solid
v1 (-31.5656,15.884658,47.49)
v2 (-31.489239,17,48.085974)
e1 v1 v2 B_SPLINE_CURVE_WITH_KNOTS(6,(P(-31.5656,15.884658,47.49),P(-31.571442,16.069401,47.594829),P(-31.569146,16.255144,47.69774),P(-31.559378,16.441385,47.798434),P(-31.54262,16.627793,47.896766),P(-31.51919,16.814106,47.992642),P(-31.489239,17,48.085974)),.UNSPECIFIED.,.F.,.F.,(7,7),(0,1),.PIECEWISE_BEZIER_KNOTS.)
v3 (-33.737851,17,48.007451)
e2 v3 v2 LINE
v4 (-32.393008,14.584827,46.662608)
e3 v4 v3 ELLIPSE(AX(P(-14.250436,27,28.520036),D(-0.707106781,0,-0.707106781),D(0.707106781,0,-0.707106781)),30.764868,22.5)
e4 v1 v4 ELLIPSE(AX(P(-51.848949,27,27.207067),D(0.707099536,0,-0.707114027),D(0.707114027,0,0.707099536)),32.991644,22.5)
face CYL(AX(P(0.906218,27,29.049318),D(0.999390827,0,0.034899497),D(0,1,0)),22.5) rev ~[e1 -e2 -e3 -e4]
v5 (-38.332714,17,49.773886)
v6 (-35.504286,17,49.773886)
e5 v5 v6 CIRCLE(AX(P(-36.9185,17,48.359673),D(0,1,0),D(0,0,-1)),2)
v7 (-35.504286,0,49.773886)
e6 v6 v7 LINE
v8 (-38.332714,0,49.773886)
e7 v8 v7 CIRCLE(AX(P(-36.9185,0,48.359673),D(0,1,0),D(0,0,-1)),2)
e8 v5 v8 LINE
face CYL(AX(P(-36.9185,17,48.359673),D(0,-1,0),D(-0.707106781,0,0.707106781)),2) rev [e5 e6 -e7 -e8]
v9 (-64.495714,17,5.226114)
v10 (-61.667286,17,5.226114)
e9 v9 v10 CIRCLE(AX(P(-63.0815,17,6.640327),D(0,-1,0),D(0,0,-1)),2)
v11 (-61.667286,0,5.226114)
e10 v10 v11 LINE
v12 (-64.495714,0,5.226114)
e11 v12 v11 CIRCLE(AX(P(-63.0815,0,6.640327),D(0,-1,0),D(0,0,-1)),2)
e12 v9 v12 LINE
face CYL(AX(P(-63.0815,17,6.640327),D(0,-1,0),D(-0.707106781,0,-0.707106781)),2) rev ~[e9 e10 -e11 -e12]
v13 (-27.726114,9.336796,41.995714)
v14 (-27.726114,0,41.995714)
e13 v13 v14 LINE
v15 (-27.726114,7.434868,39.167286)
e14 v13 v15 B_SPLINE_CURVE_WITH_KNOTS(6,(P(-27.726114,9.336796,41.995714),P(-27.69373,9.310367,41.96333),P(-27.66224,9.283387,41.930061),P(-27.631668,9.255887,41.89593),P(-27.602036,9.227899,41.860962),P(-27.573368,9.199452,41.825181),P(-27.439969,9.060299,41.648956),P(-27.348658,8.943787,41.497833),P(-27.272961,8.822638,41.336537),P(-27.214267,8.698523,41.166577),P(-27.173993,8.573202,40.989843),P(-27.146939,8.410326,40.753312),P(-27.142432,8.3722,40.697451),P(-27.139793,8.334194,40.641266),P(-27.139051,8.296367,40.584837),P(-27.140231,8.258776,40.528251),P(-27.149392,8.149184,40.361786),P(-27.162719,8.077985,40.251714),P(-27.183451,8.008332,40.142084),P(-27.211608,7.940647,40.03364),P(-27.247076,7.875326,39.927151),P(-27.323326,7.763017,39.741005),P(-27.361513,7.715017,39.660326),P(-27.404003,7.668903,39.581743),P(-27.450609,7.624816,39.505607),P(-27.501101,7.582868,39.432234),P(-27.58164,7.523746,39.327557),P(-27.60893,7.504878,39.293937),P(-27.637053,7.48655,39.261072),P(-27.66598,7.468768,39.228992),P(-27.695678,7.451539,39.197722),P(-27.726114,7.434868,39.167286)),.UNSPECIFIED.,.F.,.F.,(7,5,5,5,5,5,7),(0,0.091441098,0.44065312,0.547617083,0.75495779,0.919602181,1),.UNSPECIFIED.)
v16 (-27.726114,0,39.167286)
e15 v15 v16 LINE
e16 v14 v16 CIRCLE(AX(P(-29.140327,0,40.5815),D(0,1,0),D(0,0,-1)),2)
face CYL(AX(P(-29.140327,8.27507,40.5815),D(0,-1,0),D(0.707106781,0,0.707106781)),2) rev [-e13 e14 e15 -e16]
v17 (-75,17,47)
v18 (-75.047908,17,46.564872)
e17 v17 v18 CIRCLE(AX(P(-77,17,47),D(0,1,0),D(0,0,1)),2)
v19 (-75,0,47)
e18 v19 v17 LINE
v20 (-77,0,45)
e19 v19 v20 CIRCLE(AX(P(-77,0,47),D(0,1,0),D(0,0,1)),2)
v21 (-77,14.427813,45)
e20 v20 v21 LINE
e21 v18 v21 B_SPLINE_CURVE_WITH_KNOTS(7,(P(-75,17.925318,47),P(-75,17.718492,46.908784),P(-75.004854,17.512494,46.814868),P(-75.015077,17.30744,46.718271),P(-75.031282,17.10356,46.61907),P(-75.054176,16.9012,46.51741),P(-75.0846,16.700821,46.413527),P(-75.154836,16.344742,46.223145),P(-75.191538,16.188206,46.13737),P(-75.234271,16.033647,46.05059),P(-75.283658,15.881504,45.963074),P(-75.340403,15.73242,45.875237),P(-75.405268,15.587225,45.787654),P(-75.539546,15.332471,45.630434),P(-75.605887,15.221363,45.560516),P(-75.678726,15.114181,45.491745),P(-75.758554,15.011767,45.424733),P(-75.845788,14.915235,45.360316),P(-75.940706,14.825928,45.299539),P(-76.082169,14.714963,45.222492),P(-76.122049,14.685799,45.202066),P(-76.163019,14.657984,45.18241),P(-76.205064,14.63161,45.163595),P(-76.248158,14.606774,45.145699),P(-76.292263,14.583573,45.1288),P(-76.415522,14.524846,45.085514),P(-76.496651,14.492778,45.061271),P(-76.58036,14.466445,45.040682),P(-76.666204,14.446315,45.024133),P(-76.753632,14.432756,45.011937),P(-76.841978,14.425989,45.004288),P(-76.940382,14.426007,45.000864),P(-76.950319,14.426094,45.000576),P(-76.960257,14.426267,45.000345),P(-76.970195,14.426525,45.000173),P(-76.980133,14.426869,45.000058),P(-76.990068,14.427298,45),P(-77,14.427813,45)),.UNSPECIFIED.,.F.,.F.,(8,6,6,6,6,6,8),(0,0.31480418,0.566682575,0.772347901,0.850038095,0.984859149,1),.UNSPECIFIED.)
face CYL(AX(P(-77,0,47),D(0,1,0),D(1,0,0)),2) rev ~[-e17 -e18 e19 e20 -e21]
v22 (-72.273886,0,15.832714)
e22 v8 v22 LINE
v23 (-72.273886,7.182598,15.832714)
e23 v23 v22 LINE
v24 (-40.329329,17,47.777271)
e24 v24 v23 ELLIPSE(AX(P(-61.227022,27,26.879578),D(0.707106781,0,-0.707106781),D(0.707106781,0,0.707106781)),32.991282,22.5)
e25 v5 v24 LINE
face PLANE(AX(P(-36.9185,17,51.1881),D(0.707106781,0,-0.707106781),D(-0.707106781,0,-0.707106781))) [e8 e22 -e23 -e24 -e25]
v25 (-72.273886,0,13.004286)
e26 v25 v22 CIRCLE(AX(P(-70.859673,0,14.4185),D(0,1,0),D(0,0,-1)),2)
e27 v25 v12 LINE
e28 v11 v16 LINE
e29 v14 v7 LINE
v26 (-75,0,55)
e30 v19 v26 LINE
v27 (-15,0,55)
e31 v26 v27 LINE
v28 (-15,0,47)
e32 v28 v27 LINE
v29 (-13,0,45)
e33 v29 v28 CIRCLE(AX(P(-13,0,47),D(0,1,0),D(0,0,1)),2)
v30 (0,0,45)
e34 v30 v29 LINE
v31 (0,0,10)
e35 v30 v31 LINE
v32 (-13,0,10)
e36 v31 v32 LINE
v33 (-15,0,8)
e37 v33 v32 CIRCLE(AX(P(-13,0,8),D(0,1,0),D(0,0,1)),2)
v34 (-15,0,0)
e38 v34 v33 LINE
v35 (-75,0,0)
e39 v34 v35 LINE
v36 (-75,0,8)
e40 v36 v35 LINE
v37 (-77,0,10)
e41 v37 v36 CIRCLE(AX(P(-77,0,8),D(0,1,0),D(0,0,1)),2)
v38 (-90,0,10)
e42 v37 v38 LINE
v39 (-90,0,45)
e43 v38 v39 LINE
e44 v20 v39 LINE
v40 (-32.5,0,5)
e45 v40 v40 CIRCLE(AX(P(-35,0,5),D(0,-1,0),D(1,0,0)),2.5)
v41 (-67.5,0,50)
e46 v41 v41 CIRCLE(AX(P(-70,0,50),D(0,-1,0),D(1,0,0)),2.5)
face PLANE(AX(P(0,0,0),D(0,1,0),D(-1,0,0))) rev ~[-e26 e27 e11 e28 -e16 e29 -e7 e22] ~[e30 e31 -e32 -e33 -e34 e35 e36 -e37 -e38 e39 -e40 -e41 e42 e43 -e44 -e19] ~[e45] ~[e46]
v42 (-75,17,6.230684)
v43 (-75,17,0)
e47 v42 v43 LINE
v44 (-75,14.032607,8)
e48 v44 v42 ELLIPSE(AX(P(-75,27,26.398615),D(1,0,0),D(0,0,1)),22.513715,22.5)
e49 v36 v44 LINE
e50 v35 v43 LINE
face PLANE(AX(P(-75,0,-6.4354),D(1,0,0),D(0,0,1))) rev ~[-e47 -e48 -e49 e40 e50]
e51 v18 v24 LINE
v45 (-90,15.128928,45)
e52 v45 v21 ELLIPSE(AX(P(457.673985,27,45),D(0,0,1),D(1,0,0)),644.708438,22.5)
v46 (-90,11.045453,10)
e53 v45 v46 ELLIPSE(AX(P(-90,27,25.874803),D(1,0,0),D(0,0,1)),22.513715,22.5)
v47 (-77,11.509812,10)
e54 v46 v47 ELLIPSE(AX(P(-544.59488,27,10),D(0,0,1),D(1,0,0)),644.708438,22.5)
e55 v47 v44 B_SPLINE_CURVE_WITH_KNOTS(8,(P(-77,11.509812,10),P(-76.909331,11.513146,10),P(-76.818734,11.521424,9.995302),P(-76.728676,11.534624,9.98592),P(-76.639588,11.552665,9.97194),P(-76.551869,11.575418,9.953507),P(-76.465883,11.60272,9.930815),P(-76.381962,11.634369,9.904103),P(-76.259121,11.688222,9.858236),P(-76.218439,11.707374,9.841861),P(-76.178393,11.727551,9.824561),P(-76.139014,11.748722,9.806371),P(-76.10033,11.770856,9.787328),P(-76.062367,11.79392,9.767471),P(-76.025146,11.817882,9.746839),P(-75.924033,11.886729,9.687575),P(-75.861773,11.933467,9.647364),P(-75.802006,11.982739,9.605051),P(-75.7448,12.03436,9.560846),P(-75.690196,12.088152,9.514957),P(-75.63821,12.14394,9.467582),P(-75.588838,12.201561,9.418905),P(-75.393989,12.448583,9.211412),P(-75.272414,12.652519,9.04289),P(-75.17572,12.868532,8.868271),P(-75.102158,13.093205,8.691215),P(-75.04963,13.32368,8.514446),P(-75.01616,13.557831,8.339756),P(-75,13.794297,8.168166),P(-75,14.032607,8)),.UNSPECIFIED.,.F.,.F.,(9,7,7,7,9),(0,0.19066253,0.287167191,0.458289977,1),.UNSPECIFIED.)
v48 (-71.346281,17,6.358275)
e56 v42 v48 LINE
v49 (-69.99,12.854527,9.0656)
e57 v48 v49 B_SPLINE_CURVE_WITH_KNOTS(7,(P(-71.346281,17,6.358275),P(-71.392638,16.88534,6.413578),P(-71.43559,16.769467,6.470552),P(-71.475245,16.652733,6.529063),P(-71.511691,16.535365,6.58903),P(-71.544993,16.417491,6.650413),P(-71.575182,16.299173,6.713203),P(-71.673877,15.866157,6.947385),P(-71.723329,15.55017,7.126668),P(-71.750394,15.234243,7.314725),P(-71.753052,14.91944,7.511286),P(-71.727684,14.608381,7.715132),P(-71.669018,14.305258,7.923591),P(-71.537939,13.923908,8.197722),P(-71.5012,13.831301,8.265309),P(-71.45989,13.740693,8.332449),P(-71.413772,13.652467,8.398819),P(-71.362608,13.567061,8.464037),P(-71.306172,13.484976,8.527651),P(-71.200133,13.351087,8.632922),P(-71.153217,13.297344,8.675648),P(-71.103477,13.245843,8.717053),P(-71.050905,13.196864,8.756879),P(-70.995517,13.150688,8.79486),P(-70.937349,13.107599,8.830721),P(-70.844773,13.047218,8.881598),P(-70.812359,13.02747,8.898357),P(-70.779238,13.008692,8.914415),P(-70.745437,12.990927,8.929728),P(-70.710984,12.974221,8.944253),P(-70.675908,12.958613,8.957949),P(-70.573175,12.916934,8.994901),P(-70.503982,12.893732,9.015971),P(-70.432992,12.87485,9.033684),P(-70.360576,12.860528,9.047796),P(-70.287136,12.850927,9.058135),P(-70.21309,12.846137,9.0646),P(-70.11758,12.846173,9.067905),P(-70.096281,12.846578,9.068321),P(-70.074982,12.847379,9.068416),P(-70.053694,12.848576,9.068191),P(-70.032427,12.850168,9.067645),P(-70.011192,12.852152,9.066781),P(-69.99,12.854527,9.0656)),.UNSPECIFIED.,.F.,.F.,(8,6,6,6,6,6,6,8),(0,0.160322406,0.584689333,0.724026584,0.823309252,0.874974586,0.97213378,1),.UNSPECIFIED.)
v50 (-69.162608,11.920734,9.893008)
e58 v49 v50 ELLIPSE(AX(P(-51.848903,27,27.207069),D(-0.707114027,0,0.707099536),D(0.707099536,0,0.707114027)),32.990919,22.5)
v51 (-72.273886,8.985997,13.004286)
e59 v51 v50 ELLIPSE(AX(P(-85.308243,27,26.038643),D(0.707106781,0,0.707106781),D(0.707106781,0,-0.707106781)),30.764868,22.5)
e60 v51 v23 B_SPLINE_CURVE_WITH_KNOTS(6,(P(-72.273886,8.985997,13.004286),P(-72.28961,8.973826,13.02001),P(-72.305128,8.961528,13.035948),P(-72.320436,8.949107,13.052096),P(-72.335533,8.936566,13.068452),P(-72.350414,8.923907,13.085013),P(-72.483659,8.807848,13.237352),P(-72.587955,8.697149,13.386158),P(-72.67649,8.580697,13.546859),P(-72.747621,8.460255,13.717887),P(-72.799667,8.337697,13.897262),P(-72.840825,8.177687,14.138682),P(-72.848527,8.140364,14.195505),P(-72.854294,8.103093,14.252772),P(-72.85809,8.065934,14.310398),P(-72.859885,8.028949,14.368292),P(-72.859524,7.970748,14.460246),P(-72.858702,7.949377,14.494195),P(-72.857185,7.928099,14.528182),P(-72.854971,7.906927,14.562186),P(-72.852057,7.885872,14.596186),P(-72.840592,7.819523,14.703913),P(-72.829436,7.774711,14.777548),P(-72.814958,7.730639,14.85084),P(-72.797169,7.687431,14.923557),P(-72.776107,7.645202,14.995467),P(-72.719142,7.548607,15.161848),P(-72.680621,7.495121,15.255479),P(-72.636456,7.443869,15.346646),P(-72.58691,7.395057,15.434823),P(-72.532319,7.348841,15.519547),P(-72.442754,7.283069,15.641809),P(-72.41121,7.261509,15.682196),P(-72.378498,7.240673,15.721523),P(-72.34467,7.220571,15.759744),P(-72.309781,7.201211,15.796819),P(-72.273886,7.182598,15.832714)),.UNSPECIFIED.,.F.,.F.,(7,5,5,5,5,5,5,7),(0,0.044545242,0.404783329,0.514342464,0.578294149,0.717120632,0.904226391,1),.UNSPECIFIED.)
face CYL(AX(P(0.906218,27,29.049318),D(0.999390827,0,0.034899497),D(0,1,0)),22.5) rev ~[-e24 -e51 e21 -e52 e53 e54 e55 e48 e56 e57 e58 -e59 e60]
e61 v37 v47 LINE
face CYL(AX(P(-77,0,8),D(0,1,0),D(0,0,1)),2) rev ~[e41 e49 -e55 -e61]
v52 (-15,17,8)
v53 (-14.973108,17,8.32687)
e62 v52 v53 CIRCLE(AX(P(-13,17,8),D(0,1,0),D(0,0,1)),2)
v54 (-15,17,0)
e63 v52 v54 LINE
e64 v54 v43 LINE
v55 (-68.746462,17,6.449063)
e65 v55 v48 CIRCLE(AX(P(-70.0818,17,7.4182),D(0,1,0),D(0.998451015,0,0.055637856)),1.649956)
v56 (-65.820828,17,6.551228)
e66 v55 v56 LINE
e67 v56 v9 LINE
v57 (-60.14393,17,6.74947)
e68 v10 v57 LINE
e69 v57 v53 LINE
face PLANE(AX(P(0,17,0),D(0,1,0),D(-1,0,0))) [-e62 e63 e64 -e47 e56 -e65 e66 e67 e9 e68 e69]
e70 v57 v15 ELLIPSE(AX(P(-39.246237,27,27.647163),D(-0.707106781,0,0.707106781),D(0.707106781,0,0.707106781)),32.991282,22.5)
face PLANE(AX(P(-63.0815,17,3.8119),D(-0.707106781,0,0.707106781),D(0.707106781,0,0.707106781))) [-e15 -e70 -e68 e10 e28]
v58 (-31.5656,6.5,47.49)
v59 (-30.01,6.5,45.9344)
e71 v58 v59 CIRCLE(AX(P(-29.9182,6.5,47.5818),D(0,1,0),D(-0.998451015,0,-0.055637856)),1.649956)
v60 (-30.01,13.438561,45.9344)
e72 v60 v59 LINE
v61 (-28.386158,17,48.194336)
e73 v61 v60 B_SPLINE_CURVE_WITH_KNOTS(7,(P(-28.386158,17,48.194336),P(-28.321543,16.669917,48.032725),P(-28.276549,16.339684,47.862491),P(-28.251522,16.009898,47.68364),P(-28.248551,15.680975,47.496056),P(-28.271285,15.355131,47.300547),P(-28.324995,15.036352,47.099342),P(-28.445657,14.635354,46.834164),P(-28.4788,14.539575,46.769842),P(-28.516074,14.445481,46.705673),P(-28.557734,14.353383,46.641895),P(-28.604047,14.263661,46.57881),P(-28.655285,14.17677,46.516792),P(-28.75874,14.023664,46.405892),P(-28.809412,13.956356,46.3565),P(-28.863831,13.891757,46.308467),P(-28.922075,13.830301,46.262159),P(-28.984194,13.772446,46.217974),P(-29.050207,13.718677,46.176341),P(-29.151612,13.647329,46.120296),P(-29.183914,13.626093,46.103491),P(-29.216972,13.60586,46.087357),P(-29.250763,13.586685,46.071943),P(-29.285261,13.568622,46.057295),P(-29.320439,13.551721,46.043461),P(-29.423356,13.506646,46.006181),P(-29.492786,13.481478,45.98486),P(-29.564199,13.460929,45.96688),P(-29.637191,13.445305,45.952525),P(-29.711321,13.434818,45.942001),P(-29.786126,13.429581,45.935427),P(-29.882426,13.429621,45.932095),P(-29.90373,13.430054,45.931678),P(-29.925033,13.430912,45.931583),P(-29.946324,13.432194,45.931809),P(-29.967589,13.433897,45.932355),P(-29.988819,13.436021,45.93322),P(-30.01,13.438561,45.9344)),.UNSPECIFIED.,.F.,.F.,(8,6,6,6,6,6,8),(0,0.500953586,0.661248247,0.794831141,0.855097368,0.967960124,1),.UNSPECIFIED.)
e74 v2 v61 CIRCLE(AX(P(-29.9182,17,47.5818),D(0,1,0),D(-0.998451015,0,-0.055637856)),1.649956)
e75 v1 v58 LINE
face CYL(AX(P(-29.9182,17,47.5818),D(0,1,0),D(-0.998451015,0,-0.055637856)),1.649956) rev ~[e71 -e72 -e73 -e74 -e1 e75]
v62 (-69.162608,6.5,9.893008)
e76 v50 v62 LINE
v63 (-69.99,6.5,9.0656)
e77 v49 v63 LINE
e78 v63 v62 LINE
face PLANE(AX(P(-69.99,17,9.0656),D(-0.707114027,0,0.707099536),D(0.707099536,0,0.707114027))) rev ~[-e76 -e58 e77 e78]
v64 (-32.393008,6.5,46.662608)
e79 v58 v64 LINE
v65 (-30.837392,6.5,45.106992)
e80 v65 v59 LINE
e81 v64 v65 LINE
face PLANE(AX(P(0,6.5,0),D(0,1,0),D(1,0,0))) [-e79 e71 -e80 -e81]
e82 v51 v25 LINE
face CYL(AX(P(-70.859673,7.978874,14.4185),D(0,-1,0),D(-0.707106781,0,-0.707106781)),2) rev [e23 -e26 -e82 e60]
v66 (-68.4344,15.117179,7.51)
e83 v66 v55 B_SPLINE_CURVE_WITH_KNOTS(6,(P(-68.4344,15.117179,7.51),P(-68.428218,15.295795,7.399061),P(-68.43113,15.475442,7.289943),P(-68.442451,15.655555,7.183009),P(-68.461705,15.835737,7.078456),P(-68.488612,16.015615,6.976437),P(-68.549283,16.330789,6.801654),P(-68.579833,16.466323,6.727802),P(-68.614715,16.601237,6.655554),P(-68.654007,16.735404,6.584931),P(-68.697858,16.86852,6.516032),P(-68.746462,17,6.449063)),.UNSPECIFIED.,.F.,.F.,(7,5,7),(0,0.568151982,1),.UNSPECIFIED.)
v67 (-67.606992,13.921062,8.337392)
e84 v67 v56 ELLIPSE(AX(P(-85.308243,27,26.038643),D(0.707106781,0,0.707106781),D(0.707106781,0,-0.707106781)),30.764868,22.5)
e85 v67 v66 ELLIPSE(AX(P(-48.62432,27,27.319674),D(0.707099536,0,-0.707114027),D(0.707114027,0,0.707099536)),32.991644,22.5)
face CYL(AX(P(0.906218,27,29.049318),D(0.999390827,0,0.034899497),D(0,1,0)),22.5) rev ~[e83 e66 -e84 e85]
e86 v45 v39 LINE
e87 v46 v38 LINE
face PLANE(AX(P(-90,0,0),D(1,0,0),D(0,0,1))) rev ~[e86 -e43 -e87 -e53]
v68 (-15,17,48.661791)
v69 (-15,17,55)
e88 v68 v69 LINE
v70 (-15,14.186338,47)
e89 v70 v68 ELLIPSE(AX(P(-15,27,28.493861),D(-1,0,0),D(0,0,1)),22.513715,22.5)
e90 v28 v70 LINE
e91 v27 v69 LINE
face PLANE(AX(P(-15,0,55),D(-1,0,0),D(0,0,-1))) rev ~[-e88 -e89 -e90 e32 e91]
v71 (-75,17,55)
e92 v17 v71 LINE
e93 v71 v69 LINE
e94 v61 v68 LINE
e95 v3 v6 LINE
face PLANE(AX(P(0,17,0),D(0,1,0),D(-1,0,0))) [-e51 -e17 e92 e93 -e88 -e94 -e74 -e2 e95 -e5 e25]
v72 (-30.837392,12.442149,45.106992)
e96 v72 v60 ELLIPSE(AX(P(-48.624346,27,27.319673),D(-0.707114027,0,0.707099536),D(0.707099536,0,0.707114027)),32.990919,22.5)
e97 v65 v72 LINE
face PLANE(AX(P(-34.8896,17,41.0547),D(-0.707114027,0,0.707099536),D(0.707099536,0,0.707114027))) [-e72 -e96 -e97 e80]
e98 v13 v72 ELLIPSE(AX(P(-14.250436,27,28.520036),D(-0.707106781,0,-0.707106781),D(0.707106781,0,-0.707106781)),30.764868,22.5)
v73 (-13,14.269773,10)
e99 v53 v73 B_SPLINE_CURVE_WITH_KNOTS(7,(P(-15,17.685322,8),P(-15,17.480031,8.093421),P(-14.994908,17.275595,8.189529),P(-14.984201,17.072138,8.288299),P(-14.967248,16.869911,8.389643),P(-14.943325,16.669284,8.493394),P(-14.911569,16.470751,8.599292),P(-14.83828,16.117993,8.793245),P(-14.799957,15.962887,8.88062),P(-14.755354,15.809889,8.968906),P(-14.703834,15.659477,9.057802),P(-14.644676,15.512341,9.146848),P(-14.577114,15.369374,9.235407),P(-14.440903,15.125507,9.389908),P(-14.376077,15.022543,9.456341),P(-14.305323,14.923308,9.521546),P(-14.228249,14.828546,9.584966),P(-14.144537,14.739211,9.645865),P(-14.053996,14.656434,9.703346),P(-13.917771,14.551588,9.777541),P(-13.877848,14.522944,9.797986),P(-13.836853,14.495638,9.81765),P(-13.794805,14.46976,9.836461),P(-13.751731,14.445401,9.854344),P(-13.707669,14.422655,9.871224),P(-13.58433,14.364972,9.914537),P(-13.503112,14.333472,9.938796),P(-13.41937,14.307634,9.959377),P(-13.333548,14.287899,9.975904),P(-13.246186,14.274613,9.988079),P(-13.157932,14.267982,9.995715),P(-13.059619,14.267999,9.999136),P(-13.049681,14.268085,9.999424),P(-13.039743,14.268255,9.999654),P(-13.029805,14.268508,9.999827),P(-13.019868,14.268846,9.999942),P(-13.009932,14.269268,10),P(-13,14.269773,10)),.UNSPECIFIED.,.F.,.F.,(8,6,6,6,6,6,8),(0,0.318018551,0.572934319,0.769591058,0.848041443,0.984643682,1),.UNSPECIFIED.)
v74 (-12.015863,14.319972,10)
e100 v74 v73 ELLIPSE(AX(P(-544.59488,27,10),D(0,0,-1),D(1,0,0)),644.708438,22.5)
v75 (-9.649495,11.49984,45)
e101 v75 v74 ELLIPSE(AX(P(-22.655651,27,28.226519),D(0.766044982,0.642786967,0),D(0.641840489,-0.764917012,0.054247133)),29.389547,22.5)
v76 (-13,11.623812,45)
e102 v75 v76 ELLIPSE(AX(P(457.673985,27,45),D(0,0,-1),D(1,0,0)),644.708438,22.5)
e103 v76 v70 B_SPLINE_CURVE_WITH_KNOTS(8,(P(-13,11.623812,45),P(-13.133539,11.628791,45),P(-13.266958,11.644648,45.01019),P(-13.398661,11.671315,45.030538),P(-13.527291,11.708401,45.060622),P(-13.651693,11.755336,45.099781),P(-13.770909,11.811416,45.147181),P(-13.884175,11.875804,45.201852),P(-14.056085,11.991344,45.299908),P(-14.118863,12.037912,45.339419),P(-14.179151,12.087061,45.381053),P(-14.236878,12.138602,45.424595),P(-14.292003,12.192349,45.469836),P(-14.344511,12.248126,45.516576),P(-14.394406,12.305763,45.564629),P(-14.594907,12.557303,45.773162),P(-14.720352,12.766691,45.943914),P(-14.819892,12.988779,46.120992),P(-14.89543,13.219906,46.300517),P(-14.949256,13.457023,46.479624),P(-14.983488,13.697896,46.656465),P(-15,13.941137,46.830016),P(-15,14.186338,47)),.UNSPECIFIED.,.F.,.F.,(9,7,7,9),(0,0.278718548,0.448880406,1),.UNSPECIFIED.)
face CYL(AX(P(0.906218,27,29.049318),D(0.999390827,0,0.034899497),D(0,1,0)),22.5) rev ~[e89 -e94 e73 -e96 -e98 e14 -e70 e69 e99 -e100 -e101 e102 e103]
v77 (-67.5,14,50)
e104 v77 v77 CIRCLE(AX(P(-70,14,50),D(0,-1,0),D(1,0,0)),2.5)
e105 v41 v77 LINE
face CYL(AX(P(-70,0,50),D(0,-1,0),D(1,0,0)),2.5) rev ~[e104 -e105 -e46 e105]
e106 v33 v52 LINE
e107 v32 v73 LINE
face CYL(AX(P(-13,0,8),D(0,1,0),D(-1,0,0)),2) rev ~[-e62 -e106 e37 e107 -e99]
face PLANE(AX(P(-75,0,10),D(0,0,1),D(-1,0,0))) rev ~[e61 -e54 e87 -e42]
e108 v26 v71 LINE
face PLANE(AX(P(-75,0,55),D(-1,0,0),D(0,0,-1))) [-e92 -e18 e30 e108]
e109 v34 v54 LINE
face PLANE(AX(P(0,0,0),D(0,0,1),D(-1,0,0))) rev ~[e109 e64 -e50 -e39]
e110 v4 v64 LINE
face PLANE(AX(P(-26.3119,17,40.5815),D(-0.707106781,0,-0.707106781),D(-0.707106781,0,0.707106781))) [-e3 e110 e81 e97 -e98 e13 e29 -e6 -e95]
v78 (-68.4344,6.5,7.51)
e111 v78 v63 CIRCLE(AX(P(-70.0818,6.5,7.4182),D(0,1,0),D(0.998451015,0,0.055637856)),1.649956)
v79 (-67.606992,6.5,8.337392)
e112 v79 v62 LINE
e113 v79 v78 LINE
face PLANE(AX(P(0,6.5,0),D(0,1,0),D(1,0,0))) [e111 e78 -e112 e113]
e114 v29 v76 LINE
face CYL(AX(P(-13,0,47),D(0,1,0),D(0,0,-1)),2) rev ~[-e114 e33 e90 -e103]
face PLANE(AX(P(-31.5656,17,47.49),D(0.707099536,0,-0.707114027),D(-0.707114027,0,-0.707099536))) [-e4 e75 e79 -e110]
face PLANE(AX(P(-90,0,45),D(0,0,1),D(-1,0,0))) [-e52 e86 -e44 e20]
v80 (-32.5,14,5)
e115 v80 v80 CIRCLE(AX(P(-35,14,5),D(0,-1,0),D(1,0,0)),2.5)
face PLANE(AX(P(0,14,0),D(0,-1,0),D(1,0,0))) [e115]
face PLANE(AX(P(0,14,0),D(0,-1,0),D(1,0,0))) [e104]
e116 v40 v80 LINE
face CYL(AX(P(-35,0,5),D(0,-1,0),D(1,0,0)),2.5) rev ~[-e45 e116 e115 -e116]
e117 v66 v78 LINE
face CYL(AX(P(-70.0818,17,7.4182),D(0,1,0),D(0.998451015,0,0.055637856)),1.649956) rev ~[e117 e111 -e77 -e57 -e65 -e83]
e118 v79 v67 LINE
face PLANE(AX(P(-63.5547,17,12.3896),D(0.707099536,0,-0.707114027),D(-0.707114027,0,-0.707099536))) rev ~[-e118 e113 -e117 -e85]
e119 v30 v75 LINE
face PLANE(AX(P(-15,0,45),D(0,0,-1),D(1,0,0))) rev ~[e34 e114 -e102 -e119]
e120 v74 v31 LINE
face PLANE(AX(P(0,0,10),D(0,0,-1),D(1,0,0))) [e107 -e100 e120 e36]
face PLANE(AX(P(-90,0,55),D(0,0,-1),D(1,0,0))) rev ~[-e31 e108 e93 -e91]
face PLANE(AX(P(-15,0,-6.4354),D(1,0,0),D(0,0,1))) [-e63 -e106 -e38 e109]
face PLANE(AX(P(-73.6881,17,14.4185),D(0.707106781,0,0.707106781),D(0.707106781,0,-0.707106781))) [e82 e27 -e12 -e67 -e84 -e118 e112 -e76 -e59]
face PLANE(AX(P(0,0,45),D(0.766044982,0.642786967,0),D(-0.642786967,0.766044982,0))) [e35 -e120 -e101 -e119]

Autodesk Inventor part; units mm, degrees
ref_plane "YZ Plane" through (0, 0, 0) normal (1, 0, 0) x (0, 1, 0)
ref_plane "XZ Plane" through (0, 0, 0) normal (0, 1, 0) x (-1, 0, 0)
sketch "Sketch24" plane through (0, 0, 0) normal (0, 1, 0) x (-1, 0, 0)
  line L0 (0, 0) -> (90, 0)
  line L1 (90, 0) -> (90, 55)
  line L2 (90, 55) -> (0, 55)
  line L3 (0, 55) -> (0, 0)
  dimension "d160" = 55
  dimension "d161" = 90
extrude "Extrusion21" add sketch "Sketch24" along normal blind 17
sketch "Sketch25" plane through (0, 0, 0) normal (0, -1, 0) x (1, 0, 0)
  circle A0 centre (-70, 50) radius 2.5
  circle A1 centre (-35, 5) radius 2.5
  line L0 (0, 0) -> (-90, 0) projected
  line L1 (-90, 55) -> (0, 55) projected
  line L2 (-90, 0) -> (-90, 55) projected
  dimension "d164" = 5
  dimension "d165" = 5
  dimension "d166" = 5
  dimension "d167" = 5
  dimension "d168" = 20
  dimension "d169" = 55
extrude "Extrusion22" cut sketch "Sketch25" against normal blind 14
sketch "Sketch26" plane through (0, 17, 0) normal (0, 1, 0) x (1, 0, 0)
  line L0 (-63.0815, -3.8119) -> (-26.3119, -40.5815)
  line L1 (-26.3119, -40.5815) -> (-36.9185, -51.1881)
  line L2 (-36.9185, -51.1881) -> (-73.6881, -14.4185)
  line L3 (-73.6881, -14.4185) -> (-63.0815, -3.8119)
  line L4 (-90, 0) -> (-90, -55) projected
  line L5 (0, 0) -> (-90, 0) projected
  point P0 (0, -22.5)
  dimension "d172" = 15
  dimension "d173" = 52
  dimension "d176" = 47.3762
  dimension "d177" = 47.3762
  dimension "d181" = 16.3119
  dimension "d182" = 45
  dimension "d183" = 3.8119
extrude "Extrusion23" cut sketch "Sketch26" against normal through all
ref_plane "Work Plane2" through (0, 0, 55) normal (0.9994, 0, 0.0349) x (0, 1, 0)
sketch "Sketch28" plane through (0, 0, 55) normal (0.9994, 0, 0.0349) x (0, 1, 0)
  circle A0 centre (27, -25.9665) radius 22.5
  line L0 (17, 0) -> (17, -54.9665) projected
  line L1 (0, -54.9665) -> (17, -54.9665) projected
  line L2 (0, 0) -> (0, -54.9665) projected
  dimension "d187" = 45
  dimension "d192" = 29
  dimension "d194" = 27
extrude "Extrusion24" cut sketch "Sketch28" against normal through all
sketch "Sketch29" plane through (0, 17, 0) normal (0, 1, 0) x (1, 0, 0)
  line L0 (-26.3119, -40.5815) -> (-63.0815, -3.8119) projected
  line L1 (-44.6967, -22.1967) -> (-55.3033, -32.8033)
  line L2 (-73.6881, -14.4185) -> (-40.3293, -47.7773) projected
  arc A0 (-68.4344, -7.51) -> (-69.99, -9.0656) centre (-70.0818, -7.4182) ccw
  line L3 (-63.5547, -12.3896) -> (-68.4344, -7.51)
  line L4 (-69.99, -9.0656) -> (-65.1104, -13.9453)
  line L5 (-65.1104, -13.9453) -> (-63.5547, -12.3896)
  line L6 (-65.8208, -6.5512) -> (-63.0815, -3.8119) projected
  arc A1 (-31.5656, -47.49) -> (-30.01, -45.9344) centre (-29.9182, -47.5818) ccw
  line L7 (-34.8896, -41.0547) -> (-30.01, -45.9344)
  line L8 (-31.5656, -47.49) -> (-36.4453, -42.6104)
  line L9 (-36.4453, -42.6104) -> (-34.8896, -41.0547)
  line L10 (-29.0512, -43.3208) -> (-26.3119, -40.5815)
  point P0 (0, 0)
  point P1 (-73.6881, -14.4185)
  point P2 (-56.553, -49.6596)
  point P3 (-21.3119, -14.4185)
  point P4 (-40.3293, -47.7773)
  point P5 (-36.9185, -51.1881)
  dimension "d216" = 2.2
  dimension "d217" = 1.1
  dimension "d218" = 3.3
  dimension "d219" = 2.4
  dimension "d221" = 7.5
  dimension "d222" = 15
extrude "Extrusion25" cut sketch "Sketch29" against normal blind 10.5
fillet "Fillet4" radius 2 4 edges at (-26.3119, 4.1375, 40.5815) (-63.0815, 8.5, 3.8119) (-73.6881, 3.9894, 14.4185) (-36.9185, 8.5, 51.1881)
sketch "Sketch31" plane through (0, 0, 0) normal (0, -1, 0) x (1, 0, 0)
  line L0 (7.4187, -6.4354) -> (-15, -6.4354)
  line L1 (-15, -6.4354) -> (-15, 10)
  line L2 (-15, 10) -> (7.4187, 10)
  line L3 (7.4187, 10) -> (7.4187, -6.4354)
  line L4 (0, 55) -> (0, 0) projected
  line L5 (0, 0) -> (-90, 0) projected
  line L6 (0, 0) -> (-90, 0) projected
  line L7 (-90, 55) -> (0, 55) projected
  line L8 (0, 27.5) -> (-90, 27.5)
  line L9 (-45, 62.4242) -> (-45, -8.4375)
  line L10 (-90, 0) -> (-90, 55) projected
  line L11 (7.4187, 61.4354) -> (-15, 61.4354)
  line L12 (-15, 61.4354) -> (-15, 45)
  line L13 (-15, 45) -> (7.4187, 45)
  line L14 (7.4187, 45) -> (7.4187, 61.4354)
  line L15 (-97.4187, -6.4354) -> (-75, -6.4354)
  line L16 (-75, -6.4354) -> (-75, 10)
  line L17 (-75, 10) -> (-97.4187, 10)
  line L18 (-97.4187, 10) -> (-97.4187, -6.4354)
  line L19 (-90, 55) -> (-90, 0)
  line L20 (-97.4187, 61.4354) -> (-75, 61.4354)
  line L21 (-75, 61.4354) -> (-75, 45)
  line L22 (-75, 45) -> (-97.4187, 45)
  line L23 (-97.4187, 45) -> (-97.4187, 61.4354)
  point P0 (-17, 0)
  point P1 (-17, 55)
  point P2 (-73, 0)
  point P3 (-73, 55)
  dimension "d227" = 15
  dimension "d228" = 10
  dimension "d229" = 45
  dimension "d230" = 90
extrude "Extrusion27" cut sketch "Sketch31" against normal through all contours L0 L1 L5 L4 L2 L3 | L1 L2 L4 L5 | L16 L15 L18 L17 L10 L5 | L5 L10 L17 L16 | L13 L12 L7 L4 | L4 L7 L12 L11 L14 L13 | L22 L23 L20 L21 L7 L10 | L10 L7 L21 L22
fillet "Fillet5" radius 2 4 edges at (-15, 7.0843, 10) (-75, 5.7918, 10) (-75, 7.1624, 45) (-15, 5.8494, 45)
sketch "Sketch32" plane through (0, 0, 45) normal (0, 0, 1) x (1, 0, 0)
  line L0 (0, 0) -> (-24.7878, 29.541)
  line L1 (-24.7878, 29.541) -> (8.6873, 22.432)
  line L2 (8.6873, 22.432) -> (0, 0)
  line L3 (0, 0) -> (-13, 0) projected
  dimension "d234" = 50
extrude "Extrusion28" cut sketch "Sketch32" against normal through all
properties part number "GuideCarotte" material "Nylon 6/6"
